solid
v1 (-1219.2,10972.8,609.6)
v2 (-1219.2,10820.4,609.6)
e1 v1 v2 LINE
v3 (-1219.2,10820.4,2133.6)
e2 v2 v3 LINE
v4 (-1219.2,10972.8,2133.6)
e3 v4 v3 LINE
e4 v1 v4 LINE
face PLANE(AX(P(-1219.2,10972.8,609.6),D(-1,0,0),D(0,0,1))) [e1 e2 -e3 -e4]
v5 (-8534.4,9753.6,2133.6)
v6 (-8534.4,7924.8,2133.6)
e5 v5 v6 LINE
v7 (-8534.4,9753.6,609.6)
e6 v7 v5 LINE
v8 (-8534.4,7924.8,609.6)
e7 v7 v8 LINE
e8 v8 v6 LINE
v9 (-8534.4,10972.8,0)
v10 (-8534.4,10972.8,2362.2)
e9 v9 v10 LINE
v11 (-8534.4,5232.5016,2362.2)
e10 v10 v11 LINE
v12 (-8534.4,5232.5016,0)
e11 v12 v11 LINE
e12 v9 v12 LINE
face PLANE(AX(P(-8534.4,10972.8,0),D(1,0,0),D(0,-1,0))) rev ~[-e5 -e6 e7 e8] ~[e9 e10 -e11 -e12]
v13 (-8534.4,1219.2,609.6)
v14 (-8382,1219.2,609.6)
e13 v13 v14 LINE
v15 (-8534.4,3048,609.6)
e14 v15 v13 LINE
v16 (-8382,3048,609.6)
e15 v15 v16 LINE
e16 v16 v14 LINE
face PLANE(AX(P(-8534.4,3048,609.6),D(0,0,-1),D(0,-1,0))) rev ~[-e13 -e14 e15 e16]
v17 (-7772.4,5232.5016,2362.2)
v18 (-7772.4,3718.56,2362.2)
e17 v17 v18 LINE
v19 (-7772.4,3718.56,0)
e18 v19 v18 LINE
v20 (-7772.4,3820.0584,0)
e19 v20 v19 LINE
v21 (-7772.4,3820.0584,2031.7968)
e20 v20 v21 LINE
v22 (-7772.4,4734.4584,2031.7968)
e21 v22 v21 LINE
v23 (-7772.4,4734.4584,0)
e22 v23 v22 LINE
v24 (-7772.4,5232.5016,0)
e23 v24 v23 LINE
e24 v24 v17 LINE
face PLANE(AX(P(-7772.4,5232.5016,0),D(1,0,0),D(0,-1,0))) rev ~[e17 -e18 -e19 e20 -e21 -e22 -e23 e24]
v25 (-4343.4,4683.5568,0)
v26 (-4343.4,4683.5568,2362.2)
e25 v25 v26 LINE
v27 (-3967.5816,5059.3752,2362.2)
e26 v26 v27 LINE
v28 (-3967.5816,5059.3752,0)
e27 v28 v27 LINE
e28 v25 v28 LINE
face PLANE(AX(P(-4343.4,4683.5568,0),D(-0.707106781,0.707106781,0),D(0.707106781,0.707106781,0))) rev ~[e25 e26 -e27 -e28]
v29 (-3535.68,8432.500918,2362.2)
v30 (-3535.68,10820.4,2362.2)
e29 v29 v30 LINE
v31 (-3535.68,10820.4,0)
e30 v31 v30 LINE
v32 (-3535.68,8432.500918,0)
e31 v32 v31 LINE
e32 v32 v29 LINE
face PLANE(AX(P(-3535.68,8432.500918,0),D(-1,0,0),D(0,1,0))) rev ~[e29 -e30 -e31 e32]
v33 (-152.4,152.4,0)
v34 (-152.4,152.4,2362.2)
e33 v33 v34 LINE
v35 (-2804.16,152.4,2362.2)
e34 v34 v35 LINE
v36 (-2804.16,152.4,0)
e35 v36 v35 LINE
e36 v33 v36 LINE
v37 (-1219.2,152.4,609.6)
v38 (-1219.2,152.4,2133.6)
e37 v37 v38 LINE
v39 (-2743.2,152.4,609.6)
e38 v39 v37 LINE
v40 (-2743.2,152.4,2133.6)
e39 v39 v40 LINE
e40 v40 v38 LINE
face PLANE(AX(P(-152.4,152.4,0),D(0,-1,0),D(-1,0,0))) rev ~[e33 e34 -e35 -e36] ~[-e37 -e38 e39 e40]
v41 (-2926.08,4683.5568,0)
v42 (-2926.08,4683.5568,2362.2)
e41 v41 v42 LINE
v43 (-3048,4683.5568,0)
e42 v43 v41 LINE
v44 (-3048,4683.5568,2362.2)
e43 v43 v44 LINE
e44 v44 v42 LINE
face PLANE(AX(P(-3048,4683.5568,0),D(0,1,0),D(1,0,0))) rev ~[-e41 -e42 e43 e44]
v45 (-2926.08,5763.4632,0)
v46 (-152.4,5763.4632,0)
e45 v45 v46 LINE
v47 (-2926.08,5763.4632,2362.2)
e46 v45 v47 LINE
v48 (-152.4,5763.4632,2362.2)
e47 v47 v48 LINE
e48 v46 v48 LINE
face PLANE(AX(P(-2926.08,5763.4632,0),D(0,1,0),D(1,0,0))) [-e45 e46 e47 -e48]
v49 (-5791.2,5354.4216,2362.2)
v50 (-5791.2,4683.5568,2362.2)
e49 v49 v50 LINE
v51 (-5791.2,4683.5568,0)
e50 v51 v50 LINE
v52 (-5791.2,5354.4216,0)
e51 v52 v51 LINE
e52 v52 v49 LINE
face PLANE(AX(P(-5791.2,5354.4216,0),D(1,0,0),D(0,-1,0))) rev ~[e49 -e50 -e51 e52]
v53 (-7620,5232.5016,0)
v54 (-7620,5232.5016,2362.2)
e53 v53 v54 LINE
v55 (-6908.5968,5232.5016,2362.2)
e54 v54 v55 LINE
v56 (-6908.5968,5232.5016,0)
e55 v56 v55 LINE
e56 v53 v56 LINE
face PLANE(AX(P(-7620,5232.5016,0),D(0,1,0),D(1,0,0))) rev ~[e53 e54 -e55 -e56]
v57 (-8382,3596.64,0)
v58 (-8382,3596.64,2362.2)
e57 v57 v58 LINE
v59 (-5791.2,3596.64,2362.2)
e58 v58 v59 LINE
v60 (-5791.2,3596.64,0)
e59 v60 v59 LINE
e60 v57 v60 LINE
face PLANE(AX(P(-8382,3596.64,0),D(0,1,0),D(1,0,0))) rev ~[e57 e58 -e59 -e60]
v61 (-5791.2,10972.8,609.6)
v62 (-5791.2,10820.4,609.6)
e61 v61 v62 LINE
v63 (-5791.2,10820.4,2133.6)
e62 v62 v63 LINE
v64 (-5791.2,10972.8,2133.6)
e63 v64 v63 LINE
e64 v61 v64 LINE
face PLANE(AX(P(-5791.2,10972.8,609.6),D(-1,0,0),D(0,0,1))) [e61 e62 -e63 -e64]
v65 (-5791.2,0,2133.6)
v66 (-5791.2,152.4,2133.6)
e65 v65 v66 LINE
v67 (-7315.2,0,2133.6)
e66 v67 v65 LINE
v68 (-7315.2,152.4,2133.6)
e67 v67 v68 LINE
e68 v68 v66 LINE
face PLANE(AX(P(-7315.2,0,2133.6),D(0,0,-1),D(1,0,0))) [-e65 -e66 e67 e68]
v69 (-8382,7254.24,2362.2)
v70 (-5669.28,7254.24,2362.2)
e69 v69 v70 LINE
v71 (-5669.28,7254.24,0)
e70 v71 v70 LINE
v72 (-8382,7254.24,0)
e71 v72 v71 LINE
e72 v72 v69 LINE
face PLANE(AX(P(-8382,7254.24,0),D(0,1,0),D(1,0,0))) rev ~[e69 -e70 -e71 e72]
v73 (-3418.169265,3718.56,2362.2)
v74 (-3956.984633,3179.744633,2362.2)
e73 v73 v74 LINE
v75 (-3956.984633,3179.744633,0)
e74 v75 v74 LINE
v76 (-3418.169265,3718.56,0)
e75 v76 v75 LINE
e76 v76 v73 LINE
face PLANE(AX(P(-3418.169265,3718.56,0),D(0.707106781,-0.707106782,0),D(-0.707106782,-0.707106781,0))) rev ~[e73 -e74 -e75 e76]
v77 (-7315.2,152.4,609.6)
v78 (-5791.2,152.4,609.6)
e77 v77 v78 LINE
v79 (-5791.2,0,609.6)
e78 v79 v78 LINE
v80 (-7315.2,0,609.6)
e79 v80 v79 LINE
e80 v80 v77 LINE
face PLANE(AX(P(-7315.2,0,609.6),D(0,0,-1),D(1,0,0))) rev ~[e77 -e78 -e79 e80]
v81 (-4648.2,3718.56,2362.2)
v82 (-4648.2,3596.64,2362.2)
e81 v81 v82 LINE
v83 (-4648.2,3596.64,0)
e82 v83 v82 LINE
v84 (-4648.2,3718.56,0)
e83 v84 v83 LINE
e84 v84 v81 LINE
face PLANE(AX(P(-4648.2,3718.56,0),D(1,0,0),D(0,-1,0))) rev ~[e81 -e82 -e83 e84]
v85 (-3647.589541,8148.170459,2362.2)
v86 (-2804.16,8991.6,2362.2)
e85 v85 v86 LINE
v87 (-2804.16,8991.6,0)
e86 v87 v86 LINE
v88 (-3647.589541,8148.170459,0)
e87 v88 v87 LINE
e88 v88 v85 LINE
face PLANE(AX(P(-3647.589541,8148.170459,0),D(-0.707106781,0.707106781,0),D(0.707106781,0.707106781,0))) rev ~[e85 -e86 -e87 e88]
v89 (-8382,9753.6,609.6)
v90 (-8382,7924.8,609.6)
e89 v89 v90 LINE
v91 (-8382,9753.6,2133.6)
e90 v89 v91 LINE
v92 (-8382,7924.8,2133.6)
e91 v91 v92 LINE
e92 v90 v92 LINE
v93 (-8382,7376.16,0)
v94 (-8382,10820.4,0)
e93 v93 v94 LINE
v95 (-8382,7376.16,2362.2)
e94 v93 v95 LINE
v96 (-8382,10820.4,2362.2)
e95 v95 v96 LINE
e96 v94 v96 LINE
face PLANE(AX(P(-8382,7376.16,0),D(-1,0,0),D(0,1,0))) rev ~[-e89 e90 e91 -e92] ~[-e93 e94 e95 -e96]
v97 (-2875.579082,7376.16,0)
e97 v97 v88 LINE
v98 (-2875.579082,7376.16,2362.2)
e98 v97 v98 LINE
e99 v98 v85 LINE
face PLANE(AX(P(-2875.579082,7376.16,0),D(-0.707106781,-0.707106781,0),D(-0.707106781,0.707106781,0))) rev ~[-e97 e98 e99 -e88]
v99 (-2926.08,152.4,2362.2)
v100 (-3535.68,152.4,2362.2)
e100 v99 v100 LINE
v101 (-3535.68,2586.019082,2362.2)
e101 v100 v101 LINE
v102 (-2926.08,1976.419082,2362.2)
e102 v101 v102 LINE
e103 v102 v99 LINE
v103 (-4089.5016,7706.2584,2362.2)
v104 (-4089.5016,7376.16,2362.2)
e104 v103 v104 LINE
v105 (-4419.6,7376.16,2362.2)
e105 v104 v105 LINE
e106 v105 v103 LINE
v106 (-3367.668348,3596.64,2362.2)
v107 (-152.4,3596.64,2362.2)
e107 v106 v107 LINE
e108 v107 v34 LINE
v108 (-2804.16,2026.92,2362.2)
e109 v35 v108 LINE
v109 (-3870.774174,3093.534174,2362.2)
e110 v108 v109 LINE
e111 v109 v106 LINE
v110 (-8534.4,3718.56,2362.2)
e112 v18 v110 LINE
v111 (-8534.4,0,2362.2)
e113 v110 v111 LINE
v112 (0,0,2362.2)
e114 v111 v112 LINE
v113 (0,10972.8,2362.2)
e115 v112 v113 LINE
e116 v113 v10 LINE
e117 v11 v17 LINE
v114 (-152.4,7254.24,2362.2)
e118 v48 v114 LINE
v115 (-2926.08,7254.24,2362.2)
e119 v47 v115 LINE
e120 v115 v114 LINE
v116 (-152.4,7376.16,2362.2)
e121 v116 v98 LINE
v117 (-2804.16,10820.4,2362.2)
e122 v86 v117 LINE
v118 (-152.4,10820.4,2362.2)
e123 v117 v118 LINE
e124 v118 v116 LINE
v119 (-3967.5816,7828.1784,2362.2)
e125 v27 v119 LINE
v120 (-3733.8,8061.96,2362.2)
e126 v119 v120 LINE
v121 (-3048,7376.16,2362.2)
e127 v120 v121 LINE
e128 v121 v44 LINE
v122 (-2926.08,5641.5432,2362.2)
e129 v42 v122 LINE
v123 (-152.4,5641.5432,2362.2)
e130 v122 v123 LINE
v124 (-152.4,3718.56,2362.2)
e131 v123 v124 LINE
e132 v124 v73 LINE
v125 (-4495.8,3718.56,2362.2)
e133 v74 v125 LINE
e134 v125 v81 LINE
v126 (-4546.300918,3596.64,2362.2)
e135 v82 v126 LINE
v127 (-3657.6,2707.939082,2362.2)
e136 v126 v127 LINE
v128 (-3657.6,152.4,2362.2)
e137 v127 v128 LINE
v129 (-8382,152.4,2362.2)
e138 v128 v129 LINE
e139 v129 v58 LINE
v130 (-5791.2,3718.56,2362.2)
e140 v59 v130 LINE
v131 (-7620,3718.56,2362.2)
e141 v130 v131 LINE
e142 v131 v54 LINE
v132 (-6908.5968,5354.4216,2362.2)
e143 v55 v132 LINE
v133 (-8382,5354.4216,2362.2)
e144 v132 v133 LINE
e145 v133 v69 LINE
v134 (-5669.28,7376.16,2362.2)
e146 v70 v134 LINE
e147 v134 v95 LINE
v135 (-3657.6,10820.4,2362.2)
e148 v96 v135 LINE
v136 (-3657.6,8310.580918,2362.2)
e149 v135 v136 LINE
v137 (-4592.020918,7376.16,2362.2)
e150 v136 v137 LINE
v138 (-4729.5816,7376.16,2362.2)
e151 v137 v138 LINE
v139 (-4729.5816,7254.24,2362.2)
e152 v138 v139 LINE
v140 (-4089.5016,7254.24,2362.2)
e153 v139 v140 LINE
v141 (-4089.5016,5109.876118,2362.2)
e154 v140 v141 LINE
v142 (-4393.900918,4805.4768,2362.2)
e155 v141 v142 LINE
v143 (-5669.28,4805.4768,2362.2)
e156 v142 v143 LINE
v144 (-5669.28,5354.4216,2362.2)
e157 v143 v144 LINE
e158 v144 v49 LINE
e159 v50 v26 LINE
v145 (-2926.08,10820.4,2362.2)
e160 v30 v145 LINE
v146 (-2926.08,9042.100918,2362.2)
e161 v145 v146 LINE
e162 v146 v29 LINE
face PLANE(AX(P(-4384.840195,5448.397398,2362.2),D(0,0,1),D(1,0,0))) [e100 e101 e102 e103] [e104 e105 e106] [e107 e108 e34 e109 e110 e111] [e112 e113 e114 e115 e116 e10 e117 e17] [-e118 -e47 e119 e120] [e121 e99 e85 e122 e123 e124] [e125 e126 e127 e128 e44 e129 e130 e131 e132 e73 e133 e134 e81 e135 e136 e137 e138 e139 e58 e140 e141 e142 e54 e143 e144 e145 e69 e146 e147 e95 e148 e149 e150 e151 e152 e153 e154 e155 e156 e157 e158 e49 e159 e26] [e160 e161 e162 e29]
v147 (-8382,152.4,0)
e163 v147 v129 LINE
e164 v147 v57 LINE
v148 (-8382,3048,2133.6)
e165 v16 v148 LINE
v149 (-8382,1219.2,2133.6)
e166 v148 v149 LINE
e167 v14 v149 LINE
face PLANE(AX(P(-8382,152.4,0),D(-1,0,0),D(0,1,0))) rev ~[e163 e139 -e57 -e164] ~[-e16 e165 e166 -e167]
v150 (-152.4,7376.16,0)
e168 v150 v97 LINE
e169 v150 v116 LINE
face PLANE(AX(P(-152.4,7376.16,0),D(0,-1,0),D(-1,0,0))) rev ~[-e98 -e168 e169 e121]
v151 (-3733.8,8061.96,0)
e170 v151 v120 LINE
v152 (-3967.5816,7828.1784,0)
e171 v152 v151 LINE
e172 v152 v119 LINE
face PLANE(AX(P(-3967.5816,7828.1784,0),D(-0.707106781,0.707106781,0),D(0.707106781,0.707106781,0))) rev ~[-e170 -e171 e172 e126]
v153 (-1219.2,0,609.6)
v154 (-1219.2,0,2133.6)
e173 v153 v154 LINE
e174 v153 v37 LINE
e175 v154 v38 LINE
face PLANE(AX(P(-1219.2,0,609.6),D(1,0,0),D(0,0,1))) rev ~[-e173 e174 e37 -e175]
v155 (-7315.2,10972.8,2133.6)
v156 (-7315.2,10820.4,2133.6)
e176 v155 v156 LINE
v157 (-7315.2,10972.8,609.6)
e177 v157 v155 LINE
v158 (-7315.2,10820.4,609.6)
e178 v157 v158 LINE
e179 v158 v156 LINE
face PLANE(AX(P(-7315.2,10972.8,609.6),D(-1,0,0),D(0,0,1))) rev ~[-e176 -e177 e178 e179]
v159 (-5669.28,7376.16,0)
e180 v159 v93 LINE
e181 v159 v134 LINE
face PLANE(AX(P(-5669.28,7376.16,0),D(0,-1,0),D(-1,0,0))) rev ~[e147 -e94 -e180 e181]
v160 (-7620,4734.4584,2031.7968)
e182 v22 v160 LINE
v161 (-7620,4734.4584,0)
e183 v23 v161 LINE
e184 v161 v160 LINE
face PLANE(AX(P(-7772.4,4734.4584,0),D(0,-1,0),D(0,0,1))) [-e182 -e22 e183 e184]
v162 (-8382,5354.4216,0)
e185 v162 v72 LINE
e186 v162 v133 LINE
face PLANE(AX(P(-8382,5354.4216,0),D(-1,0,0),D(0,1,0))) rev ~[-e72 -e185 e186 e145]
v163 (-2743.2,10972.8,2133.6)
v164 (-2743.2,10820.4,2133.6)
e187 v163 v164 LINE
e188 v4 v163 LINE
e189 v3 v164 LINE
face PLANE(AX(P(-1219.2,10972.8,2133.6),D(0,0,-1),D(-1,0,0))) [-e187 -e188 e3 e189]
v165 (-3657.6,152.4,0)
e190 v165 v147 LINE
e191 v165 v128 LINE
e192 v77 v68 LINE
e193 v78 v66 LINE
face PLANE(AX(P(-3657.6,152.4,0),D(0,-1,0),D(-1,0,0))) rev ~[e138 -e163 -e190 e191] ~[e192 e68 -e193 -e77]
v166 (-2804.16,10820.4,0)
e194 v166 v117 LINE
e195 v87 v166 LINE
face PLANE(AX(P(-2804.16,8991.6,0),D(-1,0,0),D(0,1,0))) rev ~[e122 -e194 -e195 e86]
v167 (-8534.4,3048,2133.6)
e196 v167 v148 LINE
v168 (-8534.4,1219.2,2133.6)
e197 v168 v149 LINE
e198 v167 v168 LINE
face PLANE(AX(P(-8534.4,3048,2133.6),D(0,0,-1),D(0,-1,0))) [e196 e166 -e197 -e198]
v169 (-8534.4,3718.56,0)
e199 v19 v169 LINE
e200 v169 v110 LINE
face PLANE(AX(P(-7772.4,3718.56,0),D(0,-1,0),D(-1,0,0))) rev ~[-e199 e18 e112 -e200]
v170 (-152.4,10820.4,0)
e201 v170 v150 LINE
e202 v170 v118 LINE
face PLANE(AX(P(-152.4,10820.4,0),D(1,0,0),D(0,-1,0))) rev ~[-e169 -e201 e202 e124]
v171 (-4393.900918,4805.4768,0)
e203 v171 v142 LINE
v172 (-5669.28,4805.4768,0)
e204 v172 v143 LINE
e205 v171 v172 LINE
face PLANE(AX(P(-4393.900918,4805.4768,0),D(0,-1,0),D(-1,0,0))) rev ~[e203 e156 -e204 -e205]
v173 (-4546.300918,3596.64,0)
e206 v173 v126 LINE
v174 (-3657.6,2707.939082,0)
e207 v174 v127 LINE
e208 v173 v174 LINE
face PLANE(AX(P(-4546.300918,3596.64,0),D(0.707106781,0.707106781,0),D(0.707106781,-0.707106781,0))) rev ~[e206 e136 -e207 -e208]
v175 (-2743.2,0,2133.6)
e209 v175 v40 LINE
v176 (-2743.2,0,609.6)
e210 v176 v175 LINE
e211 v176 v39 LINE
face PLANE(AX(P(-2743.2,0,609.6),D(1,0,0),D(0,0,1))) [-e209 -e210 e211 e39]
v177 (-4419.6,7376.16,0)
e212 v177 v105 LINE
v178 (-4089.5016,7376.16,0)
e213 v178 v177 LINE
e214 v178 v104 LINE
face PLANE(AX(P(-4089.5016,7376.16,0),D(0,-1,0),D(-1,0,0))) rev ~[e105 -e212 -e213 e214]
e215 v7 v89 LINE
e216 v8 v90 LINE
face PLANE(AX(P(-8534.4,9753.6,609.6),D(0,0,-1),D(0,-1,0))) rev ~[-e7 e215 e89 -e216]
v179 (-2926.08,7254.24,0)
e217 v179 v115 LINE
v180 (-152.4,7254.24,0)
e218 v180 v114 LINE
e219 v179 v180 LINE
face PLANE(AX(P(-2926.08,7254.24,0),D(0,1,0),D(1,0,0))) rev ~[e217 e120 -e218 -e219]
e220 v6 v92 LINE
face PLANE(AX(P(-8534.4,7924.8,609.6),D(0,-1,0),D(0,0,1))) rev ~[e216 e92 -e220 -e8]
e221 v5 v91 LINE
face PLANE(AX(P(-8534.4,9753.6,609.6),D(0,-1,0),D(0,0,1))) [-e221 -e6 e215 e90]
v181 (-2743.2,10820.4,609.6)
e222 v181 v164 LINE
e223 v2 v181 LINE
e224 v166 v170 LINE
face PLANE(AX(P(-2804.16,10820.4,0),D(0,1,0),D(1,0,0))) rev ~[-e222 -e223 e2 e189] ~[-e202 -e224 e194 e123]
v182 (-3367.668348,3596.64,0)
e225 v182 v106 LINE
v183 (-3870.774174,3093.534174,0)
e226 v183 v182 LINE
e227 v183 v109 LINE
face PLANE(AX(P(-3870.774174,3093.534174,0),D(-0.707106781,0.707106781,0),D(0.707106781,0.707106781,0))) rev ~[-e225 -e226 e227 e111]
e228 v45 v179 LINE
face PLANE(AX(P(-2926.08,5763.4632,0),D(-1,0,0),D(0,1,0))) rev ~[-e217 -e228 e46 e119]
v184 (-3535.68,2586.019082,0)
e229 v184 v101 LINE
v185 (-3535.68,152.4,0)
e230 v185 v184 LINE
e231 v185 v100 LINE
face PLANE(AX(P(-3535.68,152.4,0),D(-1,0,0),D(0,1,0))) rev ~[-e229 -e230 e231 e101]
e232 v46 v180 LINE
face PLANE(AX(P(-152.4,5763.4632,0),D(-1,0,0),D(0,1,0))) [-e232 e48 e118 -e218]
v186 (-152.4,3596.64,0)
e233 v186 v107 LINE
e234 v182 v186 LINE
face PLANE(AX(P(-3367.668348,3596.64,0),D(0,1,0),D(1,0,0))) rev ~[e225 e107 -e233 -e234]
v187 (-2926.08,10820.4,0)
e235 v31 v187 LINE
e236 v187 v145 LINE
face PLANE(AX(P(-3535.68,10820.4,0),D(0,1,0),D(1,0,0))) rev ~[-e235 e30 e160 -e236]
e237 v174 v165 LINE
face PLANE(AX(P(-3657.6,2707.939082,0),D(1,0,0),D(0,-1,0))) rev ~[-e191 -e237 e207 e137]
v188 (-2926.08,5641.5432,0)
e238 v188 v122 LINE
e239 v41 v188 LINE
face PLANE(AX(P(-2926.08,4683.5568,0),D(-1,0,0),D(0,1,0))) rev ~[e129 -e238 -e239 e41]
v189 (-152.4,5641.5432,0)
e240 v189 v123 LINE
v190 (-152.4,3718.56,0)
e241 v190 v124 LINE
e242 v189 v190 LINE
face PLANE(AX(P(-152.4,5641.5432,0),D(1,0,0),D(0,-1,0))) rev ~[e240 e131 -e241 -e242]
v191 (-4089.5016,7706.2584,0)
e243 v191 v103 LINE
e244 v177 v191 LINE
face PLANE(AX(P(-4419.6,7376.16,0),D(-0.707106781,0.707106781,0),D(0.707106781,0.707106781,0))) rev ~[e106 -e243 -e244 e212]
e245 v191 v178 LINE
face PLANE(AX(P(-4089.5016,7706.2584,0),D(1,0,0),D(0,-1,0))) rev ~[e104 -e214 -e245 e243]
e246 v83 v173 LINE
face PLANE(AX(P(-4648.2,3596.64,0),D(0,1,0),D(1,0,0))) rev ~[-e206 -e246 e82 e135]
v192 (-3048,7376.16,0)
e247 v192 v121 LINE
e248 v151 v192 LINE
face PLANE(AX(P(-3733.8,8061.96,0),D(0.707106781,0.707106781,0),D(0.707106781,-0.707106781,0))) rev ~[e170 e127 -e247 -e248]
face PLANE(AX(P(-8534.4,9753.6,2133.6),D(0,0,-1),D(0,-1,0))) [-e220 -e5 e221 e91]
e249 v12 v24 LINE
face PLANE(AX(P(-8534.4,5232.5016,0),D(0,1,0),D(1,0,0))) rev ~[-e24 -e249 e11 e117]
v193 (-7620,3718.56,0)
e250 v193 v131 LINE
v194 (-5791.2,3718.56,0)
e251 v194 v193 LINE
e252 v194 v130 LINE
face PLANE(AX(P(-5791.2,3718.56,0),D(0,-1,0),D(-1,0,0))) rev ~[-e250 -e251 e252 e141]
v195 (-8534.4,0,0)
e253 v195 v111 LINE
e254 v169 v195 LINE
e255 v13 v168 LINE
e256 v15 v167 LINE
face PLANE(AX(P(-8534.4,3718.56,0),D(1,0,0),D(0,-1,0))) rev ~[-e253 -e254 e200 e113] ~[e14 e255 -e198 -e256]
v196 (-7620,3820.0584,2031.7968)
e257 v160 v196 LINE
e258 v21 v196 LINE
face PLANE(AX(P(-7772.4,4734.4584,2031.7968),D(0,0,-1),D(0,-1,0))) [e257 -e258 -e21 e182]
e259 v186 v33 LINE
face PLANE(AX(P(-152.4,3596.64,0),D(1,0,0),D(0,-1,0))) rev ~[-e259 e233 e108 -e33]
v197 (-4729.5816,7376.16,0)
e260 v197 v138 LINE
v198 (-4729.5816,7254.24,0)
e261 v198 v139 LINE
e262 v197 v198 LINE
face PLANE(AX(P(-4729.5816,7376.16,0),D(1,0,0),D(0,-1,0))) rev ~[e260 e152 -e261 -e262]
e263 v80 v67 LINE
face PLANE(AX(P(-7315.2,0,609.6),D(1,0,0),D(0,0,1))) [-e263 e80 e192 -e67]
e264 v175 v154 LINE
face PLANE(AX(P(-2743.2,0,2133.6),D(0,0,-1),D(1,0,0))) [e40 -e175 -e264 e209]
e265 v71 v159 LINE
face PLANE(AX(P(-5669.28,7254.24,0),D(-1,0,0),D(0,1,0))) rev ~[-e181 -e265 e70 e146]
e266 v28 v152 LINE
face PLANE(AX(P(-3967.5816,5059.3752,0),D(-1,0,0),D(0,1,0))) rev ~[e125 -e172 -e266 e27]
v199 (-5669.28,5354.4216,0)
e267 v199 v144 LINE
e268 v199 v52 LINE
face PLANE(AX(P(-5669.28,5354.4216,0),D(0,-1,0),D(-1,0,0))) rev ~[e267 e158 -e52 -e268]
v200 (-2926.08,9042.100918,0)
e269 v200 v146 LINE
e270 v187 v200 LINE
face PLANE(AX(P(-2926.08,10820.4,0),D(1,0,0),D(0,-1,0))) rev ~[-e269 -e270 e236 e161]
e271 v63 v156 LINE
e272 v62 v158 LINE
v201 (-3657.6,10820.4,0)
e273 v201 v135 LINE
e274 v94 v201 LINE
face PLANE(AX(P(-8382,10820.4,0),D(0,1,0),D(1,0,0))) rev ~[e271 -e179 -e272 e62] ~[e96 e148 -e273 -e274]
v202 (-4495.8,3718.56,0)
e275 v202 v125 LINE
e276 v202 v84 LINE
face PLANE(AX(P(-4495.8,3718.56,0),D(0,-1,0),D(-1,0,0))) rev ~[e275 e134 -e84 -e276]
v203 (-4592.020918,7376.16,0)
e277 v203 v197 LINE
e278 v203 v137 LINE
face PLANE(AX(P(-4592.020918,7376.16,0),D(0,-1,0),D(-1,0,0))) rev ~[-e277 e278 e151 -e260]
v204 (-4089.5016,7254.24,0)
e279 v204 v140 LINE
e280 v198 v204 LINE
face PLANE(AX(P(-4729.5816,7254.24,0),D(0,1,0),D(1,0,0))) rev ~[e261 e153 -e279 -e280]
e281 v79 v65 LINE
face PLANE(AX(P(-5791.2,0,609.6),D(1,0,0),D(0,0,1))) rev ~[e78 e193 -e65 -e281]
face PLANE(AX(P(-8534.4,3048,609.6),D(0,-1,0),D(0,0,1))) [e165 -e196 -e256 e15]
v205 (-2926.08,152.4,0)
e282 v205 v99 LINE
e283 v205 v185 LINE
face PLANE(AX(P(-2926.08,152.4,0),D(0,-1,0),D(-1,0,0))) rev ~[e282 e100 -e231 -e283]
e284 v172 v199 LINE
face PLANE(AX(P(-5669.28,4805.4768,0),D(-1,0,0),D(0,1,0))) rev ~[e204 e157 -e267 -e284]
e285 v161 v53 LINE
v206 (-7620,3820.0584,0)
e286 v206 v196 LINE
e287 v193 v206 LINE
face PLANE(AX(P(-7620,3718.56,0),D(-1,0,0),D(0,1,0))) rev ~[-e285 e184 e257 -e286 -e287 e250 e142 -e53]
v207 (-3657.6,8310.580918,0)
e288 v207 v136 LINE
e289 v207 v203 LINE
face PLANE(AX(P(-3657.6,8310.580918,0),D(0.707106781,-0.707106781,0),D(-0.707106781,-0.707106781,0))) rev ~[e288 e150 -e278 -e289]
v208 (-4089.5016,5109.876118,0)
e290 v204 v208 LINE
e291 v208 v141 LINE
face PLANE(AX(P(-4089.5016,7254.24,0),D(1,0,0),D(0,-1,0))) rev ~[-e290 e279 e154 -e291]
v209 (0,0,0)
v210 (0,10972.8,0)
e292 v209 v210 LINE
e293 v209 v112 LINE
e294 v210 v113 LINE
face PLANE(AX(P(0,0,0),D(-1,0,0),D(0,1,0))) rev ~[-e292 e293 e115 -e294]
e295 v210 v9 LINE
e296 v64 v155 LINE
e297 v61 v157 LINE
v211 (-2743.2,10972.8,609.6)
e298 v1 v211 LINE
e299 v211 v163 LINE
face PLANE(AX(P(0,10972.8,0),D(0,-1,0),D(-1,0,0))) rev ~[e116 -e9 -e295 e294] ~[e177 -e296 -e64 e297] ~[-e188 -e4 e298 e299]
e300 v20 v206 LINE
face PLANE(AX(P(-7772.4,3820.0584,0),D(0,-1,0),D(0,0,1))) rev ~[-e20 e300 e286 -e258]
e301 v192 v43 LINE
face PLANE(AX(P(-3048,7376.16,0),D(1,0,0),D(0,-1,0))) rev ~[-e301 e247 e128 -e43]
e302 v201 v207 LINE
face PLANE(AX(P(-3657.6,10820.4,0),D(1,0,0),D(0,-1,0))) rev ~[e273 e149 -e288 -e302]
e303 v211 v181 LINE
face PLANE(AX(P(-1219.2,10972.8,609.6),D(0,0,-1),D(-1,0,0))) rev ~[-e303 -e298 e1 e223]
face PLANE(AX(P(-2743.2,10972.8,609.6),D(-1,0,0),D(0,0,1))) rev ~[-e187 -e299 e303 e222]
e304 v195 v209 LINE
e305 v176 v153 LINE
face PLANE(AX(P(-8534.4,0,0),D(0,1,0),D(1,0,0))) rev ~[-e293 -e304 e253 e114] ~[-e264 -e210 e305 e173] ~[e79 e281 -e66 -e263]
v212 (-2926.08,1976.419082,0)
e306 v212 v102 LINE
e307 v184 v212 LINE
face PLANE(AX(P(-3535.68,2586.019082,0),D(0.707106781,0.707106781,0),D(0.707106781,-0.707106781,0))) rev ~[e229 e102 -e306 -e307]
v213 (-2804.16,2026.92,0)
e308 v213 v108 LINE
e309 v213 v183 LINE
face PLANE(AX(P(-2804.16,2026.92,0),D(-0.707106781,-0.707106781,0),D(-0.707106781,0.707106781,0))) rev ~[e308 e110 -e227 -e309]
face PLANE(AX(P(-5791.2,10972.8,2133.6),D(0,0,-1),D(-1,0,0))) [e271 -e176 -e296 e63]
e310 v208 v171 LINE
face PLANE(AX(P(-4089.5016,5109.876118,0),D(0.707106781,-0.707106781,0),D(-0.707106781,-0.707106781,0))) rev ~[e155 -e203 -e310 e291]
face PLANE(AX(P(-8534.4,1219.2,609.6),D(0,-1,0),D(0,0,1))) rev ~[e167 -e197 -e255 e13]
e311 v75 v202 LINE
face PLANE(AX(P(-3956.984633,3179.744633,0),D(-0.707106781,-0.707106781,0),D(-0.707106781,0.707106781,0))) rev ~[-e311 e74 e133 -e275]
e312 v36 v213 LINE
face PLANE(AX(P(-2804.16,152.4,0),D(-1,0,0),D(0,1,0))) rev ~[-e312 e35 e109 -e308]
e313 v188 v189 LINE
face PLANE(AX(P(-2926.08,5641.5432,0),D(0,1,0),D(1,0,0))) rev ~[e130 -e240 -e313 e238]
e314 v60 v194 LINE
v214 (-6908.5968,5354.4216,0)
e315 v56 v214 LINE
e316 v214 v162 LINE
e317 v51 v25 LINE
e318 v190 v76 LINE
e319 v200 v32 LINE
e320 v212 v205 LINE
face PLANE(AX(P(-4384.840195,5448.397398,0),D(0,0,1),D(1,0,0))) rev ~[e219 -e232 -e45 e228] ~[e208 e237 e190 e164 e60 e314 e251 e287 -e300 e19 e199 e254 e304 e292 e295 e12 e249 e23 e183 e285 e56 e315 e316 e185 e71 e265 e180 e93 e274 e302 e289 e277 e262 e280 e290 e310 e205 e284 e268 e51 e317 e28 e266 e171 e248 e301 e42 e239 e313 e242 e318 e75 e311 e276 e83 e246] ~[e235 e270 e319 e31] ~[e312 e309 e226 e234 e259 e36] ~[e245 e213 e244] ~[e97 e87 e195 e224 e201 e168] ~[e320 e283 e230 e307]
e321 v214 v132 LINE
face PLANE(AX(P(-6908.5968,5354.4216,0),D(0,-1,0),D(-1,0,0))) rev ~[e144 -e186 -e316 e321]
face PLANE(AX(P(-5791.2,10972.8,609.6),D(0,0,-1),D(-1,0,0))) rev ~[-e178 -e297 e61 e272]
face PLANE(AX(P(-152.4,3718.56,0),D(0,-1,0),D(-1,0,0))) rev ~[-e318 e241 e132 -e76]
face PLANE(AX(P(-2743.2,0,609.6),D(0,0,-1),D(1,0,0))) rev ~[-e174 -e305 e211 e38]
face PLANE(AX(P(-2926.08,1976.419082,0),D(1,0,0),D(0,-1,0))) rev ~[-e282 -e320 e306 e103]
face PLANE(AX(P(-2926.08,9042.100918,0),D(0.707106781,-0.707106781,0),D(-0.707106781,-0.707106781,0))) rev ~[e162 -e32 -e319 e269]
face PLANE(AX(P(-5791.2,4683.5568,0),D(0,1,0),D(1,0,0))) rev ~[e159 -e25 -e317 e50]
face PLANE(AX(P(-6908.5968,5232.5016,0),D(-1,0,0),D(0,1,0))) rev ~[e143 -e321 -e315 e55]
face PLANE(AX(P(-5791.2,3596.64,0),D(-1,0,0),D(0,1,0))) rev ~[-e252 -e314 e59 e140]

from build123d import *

# Parameters (mm, degrees)
F0_W     = 2773.68
F0_H     = 1490.7768
F1_DEPTH = 2362.2
F2_W     = 1524
F2_H     = 1524
F3_DEPTH = 152.4
F4_W     = 1828.8
F4_H     = 1524
F5_DEPTH = 152.4
F6_W     = 914.4
F6_H     = 2031.7968
F7_DEPTH = 152.4
F8_W     = 1524
F8_H     = 1524
F9_DEPTH = 152.4


with BuildPart() as f1:
    # F0 (on Top) → F1 (new body)
    with BuildSketch(Plane.XY):
        Polygon((0, 10972.8), (-8534.4, 10972.8), (-8534.4, 5232.5016), (-7772.4, 5232.5016), (-7772.4, 3718.56), (-8534.4, 3718.56), (-8534.4, 0), (0, 0), (0, 3718.56), align=None)
        Polygon((-2926.08, 152.4), (-3535.68, 152.4), (-3535.68, 2586.019082), (-2926.08, 1976.419082), align=None, mode=Mode.SUBTRACT)
        Polygon((-2804.16, 2026.92), (-3870.774174, 3093.534174), (-3367.668348, 3596.64), (-152.4, 3596.64), (-152.4, 152.4), (-2804.16, 152.4), align=None, mode=Mode.SUBTRACT)
        Polygon((-152.4, 5641.5432), (-152.4, 3718.56), (-3418.169265, 3718.56), (-3956.984633, 3179.744633), (-4495.8, 3718.56), (-4648.2, 3718.56), (-4648.2, 3596.64), (-4546.300918, 3596.64), (-3657.6, 2707.939082), (-3657.6, 152.4), (-8382, 152.4), (-8382, 3596.64), (-5791.2, 3596.64), (-5791.2, 3718.56), (-7620, 3718.56), (-7620, 5232.5016), (-6908.5968, 5232.5016), (-6908.5968, 5354.4216), (-8382, 5354.4216), (-8382, 7254.24), (-5669.28, 7254.24), (-5669.28, 7376.16), (-8382, 7376.16), (-8382, 10820.4), (-3657.6, 10820.4), (-3657.6, 8310.580918), (-4134.9168, 7833.264118), (-4592.020918, 7376.16), (-4729.5816, 7376.16), (-4729.5816, 7254.24), (-4648.295882, 7254.24), (-4089.5016, 7254.24), (-4089.5016, 5109.876118), (-4393.900918, 4805.4768), (-5669.28, 4805.4768), (-5669.28, 5354.4216), (-5791.2, 5354.4216), (-5791.2, 4683.5568), (-4343.4, 4683.5568), (-3967.5816, 5059.3752), (-3967.5816, 7828.1784), (-3733.8, 8061.96), (-3048, 7376.16), (-3048, 5641.5432), (-3048, 4683.5568), (-2926.08, 4683.5568), (-2926.08, 5641.5432), align=None, mode=Mode.SUBTRACT)
        Polygon((-4089.5016, 7376.16), (-4419.6, 7376.16), (-4089.5016, 7706.2584), align=None, mode=Mode.SUBTRACT)
        with Locations((-1539.24, 6508.8516)):
            Rectangle(F0_W, F0_H, mode=Mode.SUBTRACT)
        Polygon((-2926.08, 9042.100918), (-3535.68, 8432.500918), (-3535.68, 10820.4), (-2926.08, 10820.4), align=None, mode=Mode.SUBTRACT)
        Polygon((-152.4, 7376.16), (-2875.579082, 7376.16), (-3647.589541, 8148.170459), (-2804.16, 8991.6), (-2804.16, 10820.4), (-152.4, 10820.4), align=None, mode=Mode.SUBTRACT)
    extrude(amount=F1_DEPTH)

    # F2 (on face) → F3 (cut)
    with BuildSketch(Plane.XZ):
        with Locations((-6553.2, 1371.6)):
            Rectangle(F2_W, F2_H)
        with Locations((-1981.2, 1371.6)):
            Rectangle(F2_W, F2_H)
    extrude(amount=-F3_DEPTH, mode=Mode.SUBTRACT)

    # F4 (on face) → F5 (cut)
    with BuildSketch(Plane(origin=(-8534.4, 0, 0), x_dir=(0, -1, 0), z_dir=(-1, 0, 0))):
        with Locations((-8839.2, 1371.6)):
            Rectangle(F4_W, F4_H)
        with Locations((-2133.6, 1371.6)):
            Rectangle(F4_W, F4_H)
    extrude(amount=-F5_DEPTH, mode=Mode.SUBTRACT)

    # F6 (on face) → F7 (cut)
    with BuildSketch(Plane(origin=(-7772.4, 0, 0), x_dir=(0, -1, 0), z_dir=(-1, 0, 0))):
        with Locations((-4277.2584, 1015.8984)):
            Rectangle(F6_W, F6_H)
    extrude(amount=-F7_DEPTH, mode=Mode.SUBTRACT)

    # F8 (on face) → F9 (cut)
    with BuildSketch(Plane(origin=(0, 10972.8, 0), x_dir=(-1, 0, 0), z_dir=(0, 1, 0))):
        with Locations((6553.2, 1371.6)):
            Rectangle(F8_W, F8_H)
        with Locations((1981.2, 1371.6)):
            Rectangle(F8_W, F8_H)
    extrude(amount=-F9_DEPTH, mode=Mode.SUBTRACT)


solid = f1.part
